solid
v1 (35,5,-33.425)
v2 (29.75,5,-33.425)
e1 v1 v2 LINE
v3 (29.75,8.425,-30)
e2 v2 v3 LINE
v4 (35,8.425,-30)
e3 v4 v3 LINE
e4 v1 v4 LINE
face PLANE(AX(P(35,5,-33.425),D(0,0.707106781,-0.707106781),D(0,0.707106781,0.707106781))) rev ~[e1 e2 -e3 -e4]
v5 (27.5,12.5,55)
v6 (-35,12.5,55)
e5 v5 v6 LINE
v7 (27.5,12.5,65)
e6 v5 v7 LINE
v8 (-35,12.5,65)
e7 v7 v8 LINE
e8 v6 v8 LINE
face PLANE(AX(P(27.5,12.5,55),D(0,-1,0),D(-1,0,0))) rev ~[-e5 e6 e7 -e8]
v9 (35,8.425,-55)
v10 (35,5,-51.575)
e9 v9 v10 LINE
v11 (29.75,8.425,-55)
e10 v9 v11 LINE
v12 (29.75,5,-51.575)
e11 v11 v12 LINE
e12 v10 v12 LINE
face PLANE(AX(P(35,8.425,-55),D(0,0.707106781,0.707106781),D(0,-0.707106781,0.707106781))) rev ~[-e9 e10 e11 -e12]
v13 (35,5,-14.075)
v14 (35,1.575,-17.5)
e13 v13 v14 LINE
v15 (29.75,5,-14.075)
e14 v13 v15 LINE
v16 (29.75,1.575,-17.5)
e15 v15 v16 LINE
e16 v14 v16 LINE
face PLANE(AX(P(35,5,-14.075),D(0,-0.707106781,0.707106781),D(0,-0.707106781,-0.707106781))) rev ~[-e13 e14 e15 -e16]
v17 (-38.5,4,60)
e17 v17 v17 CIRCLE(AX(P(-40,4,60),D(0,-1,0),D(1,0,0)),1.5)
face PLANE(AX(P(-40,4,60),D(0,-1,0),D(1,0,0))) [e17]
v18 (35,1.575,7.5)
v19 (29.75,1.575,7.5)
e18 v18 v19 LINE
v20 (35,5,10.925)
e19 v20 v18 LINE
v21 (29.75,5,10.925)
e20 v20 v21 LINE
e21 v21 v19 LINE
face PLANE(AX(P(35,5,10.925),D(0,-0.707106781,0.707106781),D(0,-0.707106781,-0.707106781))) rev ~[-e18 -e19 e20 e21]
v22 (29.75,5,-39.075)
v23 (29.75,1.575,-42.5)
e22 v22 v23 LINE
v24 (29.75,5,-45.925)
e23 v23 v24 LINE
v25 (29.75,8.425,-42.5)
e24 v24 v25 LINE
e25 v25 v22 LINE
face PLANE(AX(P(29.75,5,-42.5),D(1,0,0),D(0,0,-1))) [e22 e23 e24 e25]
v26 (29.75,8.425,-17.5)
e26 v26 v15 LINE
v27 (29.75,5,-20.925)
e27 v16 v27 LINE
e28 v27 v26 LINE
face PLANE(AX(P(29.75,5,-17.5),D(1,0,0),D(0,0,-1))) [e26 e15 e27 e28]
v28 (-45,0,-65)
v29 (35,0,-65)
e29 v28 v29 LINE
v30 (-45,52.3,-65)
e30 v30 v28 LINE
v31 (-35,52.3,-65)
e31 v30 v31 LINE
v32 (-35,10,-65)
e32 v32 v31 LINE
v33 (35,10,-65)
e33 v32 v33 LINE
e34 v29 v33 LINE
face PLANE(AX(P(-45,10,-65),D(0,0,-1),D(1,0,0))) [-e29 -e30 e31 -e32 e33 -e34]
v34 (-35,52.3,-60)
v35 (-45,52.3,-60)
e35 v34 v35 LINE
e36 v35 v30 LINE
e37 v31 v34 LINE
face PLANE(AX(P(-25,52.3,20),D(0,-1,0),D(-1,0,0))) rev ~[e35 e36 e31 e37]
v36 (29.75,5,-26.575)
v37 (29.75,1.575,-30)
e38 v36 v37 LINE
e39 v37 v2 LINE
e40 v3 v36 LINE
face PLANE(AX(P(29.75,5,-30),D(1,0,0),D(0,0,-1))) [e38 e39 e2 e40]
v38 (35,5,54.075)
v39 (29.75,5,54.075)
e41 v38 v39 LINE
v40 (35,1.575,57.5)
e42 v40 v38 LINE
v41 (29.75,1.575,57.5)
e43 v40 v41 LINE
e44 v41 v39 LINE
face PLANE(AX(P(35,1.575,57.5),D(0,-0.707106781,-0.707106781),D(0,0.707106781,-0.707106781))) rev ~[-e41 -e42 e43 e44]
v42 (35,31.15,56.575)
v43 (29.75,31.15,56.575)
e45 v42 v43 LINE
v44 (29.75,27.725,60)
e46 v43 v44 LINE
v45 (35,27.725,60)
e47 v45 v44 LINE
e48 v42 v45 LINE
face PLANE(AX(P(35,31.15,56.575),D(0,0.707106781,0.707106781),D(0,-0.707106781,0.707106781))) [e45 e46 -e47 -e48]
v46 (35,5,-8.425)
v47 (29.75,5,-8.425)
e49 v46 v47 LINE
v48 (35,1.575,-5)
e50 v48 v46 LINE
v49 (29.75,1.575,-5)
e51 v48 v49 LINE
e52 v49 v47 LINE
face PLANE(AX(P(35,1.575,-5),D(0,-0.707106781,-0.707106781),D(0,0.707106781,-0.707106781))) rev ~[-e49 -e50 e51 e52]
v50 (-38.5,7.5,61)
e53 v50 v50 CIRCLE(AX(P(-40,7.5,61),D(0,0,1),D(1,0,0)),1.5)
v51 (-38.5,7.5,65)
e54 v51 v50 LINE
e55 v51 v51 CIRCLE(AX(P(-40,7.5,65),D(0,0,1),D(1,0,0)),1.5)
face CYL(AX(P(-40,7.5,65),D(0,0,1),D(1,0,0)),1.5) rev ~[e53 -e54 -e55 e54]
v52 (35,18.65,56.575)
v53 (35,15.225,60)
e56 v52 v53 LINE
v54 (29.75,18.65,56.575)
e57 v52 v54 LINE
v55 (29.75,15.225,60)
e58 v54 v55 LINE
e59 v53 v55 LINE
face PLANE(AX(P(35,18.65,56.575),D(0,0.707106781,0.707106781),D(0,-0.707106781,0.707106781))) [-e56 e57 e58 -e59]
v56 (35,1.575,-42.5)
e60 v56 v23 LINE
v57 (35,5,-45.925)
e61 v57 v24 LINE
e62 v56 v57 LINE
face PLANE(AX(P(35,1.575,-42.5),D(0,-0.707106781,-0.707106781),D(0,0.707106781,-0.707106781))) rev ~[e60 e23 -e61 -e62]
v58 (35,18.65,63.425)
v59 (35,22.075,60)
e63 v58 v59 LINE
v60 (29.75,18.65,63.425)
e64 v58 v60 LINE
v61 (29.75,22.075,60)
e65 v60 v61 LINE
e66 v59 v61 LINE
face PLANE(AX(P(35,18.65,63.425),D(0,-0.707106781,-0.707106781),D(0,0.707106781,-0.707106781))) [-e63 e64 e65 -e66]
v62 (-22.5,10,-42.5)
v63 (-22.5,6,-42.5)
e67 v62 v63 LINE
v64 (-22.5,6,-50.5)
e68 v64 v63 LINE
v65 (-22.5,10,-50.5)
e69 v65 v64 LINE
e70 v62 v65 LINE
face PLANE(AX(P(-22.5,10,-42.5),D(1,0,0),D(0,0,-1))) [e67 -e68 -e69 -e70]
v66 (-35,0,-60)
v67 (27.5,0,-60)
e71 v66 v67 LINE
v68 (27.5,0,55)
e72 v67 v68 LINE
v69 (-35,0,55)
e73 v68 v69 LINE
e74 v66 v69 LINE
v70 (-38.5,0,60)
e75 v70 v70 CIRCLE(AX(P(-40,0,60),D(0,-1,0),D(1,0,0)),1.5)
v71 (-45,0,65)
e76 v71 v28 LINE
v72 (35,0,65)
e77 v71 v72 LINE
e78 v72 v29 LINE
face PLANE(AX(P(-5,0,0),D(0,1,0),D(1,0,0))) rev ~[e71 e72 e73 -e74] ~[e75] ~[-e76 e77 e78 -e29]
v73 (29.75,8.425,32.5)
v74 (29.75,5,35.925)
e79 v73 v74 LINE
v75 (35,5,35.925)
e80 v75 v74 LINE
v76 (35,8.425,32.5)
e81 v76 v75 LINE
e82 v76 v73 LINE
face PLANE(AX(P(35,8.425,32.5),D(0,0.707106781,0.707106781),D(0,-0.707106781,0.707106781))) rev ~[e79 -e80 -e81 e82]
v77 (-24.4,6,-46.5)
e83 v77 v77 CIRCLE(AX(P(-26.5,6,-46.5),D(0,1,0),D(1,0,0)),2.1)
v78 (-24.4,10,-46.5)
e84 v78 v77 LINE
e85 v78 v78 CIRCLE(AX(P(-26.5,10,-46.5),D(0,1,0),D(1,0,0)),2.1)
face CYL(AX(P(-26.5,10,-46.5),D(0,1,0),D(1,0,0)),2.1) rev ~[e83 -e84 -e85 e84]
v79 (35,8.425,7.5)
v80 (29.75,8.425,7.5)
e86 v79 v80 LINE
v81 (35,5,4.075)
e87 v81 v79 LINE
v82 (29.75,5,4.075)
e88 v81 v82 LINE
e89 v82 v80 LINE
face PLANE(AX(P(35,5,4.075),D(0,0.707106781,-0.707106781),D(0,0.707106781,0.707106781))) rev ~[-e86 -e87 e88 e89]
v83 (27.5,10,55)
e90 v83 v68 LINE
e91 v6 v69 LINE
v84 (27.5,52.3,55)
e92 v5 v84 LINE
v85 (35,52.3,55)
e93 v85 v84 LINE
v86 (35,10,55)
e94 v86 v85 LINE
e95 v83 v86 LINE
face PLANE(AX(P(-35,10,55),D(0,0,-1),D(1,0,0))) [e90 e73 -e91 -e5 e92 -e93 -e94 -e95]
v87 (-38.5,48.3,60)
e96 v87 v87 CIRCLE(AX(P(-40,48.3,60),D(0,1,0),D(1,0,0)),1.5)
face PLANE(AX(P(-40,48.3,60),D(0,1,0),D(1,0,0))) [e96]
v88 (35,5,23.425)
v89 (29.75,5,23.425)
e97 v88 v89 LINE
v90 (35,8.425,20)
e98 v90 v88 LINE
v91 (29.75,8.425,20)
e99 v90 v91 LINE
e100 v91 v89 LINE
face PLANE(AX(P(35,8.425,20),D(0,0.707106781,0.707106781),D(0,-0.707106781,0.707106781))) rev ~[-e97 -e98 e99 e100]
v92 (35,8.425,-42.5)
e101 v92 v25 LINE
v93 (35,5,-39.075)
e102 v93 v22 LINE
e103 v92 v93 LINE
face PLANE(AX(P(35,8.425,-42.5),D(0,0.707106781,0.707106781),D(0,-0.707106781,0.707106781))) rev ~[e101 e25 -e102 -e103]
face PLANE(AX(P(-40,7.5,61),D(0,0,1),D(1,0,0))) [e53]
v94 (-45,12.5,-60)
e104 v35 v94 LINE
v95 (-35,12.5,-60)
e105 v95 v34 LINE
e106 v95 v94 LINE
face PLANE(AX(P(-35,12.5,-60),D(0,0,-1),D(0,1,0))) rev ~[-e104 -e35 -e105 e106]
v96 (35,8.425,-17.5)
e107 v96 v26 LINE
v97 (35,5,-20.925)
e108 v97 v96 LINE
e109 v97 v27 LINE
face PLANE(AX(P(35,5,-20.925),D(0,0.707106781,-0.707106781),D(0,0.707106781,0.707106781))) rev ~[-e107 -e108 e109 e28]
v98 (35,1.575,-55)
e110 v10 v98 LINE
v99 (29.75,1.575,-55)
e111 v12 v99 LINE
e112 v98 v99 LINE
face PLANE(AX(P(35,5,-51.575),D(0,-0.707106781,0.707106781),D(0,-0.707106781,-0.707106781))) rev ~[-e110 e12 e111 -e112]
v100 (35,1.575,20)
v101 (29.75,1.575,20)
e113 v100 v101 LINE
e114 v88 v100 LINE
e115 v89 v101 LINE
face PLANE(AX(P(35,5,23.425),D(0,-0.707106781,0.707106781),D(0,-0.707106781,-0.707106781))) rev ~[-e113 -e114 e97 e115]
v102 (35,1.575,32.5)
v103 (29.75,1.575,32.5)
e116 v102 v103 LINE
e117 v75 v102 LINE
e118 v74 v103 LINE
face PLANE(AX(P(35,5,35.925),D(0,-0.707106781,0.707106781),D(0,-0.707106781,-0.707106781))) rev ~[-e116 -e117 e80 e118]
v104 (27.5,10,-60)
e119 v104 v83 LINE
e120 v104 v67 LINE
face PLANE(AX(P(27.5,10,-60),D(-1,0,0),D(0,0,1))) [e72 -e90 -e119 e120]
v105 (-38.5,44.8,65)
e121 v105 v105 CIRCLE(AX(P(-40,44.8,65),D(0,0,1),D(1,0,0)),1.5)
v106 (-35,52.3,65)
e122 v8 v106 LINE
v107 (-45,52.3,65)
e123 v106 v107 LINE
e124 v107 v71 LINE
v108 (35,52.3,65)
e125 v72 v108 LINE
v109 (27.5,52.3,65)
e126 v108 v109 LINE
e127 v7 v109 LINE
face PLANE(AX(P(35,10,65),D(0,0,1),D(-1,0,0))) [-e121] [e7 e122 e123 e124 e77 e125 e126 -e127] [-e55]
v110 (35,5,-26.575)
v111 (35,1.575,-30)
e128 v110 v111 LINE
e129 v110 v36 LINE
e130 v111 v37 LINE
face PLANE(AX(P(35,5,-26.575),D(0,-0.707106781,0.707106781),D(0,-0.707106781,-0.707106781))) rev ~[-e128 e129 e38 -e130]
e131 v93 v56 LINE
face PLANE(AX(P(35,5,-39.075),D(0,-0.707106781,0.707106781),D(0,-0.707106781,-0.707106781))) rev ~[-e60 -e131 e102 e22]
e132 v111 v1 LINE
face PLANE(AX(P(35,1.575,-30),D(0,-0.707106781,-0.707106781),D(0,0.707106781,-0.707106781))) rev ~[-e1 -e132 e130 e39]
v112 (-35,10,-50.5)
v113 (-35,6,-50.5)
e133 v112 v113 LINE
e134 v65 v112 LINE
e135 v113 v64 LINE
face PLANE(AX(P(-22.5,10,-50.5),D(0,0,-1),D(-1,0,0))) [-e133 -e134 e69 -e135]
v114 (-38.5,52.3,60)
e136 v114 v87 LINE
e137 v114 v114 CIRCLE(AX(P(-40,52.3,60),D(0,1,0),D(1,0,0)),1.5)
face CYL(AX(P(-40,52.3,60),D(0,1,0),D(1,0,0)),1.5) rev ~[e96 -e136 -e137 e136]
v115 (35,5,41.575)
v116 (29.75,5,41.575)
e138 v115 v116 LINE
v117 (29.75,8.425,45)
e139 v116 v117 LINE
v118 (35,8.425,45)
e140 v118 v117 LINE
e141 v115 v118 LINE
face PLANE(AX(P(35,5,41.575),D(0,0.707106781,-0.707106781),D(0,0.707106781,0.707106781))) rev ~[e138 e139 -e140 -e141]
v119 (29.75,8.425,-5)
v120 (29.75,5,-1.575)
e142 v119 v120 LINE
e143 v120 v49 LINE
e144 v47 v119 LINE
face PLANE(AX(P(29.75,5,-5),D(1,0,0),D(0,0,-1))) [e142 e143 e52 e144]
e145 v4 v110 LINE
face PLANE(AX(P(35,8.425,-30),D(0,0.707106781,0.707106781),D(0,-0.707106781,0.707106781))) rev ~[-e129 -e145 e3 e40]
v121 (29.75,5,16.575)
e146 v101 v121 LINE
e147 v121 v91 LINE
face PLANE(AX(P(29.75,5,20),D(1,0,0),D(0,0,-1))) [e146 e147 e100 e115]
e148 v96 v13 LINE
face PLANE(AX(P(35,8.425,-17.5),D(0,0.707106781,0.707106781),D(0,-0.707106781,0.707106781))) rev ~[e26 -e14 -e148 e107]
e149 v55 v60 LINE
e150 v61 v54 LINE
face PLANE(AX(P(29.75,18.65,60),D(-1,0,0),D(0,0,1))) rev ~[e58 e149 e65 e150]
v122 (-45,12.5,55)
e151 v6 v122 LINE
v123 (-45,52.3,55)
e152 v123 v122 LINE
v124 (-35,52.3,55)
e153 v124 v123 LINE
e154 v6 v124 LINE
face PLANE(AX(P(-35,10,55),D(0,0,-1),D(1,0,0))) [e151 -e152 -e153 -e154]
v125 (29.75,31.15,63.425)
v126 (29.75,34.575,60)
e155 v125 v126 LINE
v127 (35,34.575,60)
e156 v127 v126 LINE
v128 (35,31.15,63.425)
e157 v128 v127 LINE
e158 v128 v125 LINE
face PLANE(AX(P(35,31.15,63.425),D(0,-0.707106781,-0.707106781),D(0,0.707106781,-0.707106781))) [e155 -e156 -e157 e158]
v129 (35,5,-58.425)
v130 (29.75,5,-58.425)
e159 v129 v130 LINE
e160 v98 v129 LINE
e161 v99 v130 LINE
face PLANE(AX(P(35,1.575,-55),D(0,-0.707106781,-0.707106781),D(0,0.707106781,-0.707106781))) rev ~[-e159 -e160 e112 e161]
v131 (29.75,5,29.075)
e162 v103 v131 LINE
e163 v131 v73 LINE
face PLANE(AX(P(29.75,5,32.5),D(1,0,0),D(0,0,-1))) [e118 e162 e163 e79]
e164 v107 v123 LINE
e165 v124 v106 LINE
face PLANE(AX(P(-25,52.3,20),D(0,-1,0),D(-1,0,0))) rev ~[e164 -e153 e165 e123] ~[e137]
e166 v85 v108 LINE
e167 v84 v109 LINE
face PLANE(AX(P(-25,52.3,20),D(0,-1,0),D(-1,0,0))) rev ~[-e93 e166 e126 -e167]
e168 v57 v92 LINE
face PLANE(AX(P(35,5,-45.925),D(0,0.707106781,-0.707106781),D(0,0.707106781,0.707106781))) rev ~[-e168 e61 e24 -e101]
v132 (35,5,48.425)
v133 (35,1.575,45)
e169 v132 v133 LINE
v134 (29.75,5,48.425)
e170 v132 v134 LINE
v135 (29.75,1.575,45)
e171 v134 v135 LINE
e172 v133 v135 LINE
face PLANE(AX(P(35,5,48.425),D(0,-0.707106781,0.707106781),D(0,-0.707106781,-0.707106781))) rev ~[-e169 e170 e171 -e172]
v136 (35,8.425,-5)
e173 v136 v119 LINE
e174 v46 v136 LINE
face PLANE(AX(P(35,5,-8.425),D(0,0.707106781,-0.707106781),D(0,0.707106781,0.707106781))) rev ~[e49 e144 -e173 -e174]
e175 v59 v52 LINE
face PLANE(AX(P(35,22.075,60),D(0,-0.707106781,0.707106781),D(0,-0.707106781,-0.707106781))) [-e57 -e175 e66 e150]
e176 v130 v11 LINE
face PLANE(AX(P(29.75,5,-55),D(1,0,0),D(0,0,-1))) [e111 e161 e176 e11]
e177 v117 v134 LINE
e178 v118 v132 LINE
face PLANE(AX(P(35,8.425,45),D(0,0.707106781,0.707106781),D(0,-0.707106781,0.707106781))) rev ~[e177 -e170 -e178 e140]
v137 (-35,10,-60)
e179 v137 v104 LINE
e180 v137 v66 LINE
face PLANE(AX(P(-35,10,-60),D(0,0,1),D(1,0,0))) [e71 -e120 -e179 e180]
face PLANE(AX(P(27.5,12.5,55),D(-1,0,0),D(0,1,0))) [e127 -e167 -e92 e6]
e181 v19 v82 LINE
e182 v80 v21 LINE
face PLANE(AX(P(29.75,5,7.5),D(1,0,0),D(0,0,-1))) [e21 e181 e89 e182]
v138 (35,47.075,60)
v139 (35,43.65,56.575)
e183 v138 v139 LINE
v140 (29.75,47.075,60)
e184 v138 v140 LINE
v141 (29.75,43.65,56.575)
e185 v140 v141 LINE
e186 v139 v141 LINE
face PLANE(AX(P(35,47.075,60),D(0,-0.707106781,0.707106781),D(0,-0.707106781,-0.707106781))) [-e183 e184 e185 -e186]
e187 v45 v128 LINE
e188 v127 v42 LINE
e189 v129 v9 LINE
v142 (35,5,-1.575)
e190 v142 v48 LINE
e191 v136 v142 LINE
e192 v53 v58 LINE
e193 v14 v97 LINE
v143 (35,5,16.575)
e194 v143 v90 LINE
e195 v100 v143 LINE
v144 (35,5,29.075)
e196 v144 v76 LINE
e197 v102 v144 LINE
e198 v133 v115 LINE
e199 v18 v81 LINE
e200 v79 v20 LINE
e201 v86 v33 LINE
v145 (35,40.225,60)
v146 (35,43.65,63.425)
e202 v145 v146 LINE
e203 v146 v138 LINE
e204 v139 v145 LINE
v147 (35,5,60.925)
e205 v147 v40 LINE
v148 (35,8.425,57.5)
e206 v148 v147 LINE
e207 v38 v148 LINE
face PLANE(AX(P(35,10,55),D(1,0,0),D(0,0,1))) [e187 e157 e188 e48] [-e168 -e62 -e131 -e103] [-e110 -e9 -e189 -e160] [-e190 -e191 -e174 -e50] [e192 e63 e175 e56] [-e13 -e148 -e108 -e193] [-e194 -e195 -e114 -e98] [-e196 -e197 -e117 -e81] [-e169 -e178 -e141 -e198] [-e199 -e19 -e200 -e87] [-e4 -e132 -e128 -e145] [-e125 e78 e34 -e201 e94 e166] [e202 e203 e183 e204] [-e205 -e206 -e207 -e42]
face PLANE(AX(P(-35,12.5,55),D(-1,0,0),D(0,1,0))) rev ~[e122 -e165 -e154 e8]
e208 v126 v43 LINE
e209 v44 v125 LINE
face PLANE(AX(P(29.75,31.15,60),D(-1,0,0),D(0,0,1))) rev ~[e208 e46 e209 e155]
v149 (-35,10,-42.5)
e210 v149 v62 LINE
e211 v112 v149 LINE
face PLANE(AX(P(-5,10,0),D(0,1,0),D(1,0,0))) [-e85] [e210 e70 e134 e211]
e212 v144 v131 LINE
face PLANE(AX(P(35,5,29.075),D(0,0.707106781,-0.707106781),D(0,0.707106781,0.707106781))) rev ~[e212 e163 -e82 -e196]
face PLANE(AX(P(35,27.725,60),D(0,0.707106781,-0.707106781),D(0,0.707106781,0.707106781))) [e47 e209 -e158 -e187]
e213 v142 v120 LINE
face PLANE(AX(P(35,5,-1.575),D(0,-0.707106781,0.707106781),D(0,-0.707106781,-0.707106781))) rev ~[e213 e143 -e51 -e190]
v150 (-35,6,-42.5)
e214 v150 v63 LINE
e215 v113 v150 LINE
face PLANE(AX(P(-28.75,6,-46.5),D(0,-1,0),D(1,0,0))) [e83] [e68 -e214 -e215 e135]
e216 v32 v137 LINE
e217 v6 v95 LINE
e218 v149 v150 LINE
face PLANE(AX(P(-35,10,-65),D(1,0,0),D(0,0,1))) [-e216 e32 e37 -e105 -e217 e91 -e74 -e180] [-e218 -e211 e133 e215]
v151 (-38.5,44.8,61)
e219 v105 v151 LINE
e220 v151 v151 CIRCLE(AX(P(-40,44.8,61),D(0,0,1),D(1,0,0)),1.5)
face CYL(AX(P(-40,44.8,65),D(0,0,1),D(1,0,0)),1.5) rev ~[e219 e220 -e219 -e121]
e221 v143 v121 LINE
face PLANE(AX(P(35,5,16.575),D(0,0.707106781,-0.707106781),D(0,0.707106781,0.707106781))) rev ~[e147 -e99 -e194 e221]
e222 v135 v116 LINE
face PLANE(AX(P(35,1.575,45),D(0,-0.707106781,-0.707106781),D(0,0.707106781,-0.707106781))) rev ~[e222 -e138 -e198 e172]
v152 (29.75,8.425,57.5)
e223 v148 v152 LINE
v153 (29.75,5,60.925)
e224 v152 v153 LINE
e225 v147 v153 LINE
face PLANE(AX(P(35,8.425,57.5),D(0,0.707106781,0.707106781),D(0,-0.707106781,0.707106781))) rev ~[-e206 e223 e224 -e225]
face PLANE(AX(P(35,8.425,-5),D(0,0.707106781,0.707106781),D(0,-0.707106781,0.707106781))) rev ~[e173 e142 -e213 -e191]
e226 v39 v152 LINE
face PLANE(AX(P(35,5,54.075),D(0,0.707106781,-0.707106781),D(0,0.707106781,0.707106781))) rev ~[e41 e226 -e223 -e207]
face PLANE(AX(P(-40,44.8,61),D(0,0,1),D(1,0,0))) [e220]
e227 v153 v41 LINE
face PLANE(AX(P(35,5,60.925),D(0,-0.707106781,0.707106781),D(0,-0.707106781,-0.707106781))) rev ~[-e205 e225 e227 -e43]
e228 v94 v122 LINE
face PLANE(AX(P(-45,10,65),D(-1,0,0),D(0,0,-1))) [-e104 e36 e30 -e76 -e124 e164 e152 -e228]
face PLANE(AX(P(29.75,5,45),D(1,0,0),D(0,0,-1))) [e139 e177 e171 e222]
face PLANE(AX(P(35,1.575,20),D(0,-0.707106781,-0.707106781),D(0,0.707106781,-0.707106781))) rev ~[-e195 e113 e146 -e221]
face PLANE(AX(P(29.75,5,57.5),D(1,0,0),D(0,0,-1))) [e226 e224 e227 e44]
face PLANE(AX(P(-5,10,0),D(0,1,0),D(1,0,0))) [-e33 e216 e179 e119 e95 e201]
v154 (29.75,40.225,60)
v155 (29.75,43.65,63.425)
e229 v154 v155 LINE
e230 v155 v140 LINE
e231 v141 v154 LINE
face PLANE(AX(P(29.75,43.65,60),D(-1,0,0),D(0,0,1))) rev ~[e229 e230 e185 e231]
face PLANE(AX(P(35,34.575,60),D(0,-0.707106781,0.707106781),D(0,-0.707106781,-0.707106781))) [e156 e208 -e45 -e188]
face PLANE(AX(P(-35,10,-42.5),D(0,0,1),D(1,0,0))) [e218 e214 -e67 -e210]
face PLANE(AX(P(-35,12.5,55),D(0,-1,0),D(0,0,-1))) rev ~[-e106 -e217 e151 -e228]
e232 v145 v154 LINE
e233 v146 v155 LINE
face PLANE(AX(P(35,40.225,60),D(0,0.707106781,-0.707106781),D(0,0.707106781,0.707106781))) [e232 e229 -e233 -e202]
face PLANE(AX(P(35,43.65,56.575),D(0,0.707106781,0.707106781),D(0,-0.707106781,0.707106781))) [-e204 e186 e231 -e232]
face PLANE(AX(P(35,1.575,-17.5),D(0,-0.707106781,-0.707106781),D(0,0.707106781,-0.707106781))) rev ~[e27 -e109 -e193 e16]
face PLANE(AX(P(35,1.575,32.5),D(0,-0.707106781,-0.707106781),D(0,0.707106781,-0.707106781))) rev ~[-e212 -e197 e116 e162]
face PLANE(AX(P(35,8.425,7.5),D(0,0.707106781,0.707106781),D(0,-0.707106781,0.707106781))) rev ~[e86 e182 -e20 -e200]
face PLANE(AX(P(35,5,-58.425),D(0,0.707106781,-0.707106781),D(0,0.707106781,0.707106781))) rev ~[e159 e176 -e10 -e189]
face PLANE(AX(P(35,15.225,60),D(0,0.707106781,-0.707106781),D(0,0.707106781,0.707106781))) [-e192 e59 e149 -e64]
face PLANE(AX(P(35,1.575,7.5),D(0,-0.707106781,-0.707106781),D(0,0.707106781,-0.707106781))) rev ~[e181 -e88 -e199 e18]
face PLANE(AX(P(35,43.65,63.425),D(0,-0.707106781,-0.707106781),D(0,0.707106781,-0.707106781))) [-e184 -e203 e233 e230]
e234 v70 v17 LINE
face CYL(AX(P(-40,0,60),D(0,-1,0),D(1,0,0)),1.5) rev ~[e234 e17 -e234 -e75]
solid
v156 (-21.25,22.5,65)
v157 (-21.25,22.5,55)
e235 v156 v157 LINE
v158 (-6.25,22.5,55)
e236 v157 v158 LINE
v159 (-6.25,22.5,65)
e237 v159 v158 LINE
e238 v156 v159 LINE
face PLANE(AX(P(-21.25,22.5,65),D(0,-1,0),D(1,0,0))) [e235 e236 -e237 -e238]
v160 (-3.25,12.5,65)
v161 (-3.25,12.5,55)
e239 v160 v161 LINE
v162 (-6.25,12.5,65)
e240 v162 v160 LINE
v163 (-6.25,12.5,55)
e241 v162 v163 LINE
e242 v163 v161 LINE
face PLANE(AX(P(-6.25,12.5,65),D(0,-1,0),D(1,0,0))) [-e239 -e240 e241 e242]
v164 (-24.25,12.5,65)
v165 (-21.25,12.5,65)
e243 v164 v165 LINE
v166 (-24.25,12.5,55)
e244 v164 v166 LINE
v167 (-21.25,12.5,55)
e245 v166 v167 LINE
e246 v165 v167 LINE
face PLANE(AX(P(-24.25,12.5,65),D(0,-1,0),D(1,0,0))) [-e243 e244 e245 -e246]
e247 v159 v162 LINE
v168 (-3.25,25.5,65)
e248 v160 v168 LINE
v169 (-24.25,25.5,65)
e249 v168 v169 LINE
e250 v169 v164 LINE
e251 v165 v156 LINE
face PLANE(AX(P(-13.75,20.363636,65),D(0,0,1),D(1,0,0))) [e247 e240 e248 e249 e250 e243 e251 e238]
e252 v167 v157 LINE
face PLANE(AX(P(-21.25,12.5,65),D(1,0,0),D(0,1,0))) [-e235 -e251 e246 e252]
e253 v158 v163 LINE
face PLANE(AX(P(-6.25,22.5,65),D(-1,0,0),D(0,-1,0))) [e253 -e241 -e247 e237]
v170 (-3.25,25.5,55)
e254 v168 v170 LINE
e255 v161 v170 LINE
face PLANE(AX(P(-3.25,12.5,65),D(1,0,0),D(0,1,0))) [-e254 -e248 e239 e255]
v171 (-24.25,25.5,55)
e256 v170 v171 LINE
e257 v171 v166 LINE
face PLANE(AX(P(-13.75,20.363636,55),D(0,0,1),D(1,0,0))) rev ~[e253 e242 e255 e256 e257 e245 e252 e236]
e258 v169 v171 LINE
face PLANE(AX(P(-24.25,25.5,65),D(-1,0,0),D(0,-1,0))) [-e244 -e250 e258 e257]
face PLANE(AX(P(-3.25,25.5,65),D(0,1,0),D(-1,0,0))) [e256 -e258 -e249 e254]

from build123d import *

# Parameters (mm, degrees)
SKETCH1_W           = 80
SKETCH1_H           = 130
BOSS_EXTRUDE1_DEPTH = 10
BOSS_EXTRUDE2_DEPTH = 42.3
CUT_EXTRUDE1_DEPTH  = 5.25
SKETCH4_R           = 2.1
CUT_EXTRUDE2_DEPTH  = 11
CUT_EXTRUDE3_DEPTH  = 11
SKETCH7_W           = 115
SKETCH7_H           = 39.8
CUT_EXTRUDE4_DEPTH  = 11
SKETCH8_W           = 62.5
SKETCH8_H           = 39.8
CUT_EXTRUDE5_DEPTH  = 10
SKETCH9_R           = 1.5
CUT_EXTRUDE6_DEPTH  = 4
SKETCH10_R          = 1.5
CUT_EXTRUDE7_DEPTH  = 4
SKETCH11_W          = 12.5
SKETCH11_H          = 8
CUT_EXTRUDE8_DEPTH  = 6
BOSS_EXTRUDE3_DEPTH = 10
SKETCH14_R          = 1.5
CUT_EXTRUDE9_DEPTH  = 4


with BuildPart() as part:
    # Sketch1 → Boss-Extrude1 (new body)
    with BuildSketch(Plane(origin=(0, 0, 0), x_dir=(1, 0, 0), z_dir=(0, 1, 0))):
        with Locations((-5, 0)):
            Rectangle(SKETCH1_W, SKETCH1_H)
    extrude(amount=BOSS_EXTRUDE1_DEPTH)

    # Sketch2 → Boss-Extrude2 (add)
    with BuildSketch(Plane(origin=(0, 10, 0), x_dir=(1, 0, 0), z_dir=(0, 1, 0))):
        Polygon((35, -65), (-45, -65), (-45, 65), (-35, 65), (-35, -55), (35, -55), align=None)
    extrude(amount=BOSS_EXTRUDE2_DEPTH)

    # Sketch3 → Cut-Extrude1 (cut)
    with BuildSketch(Plane(origin=(35, 0, 0), x_dir=(0, 0, -1), z_dir=(1, 0, 0))):
        Polygon((20.925, 5), (17.5, 8.425), (14.075, 5), (17.5, 1.575), align=None)
        Polygon((33.425, 5), (30, 8.425), (26.575, 5), (30, 1.575), align=None)
        Polygon((5, 8.425), (1.575, 5), (5, 1.575), (8.425, 5), align=None)
        Polygon((-4.075, 5), (-7.5, 8.425), (-10.925, 5), (-7.5, 1.575), align=None)
        Polygon((-16.575, 5), (-20, 8.425), (-23.425, 5), (-20, 1.575), align=None)
        Polygon((-29.075, 5), (-32.5, 8.425), (-35.925, 5), (-32.5, 1.575), align=None)
        Polygon((-41.575, 5), (-45, 8.425), (-48.425, 5), (-45, 1.575), align=None)
        Polygon((-54.075, 5), (-57.5, 8.425), (-60.925, 5), (-57.5, 1.575), align=None)
        Polygon((-63.425, 31.15), (-60, 34.575), (-56.575, 31.15), (-60, 27.725), align=None)
        Polygon((-60, 40.225), (-63.425, 43.65), (-60, 47.075), (-56.575, 43.65), align=None)
        Polygon((-60, 15.225), (-63.425, 18.65), (-60, 22.075), (-56.575, 18.65), align=None)
        Polygon((45.925, 5), (42.5, 8.425), (39.075, 5), (42.5, 1.575), align=None)
        Polygon((58.425, 5), (55, 8.425), (51.575, 5), (55, 1.575), align=None)
    extrude(amount=-CUT_EXTRUDE1_DEPTH, mode=Mode.SUBTRACT)

    # Sketch4 → Cut-Extrude2 (cut, through all)
    with BuildSketch(Plane(origin=(0, 10, 0), x_dir=(1, 0, 0), z_dir=(0, 1, 0))):
        with Locations((-26.5, 46.5)):
            Circle(SKETCH4_R)
    extrude(amount=-CUT_EXTRUDE2_DEPTH, mode=Mode.SUBTRACT)

    # Sketch5 → Cut-Extrude3 (cut, through all)
    with BuildSketch(Plane(origin=(0, 10, 0), x_dir=(1, 0, 0), z_dir=(0, 1, 0))):
        Polygon((-35, -55), (-35, 42.5), (-22.5, 42.5), (-22.5, 50.5), (-35, 50.5), (-35, 60), (27.5, 60), (27.5, -55), align=None)
    extrude(amount=-CUT_EXTRUDE3_DEPTH, mode=Mode.SUBTRACT)

    # Sketch7 → Cut-Extrude4 (cut, through all)
    with BuildSketch(Plane(origin=(-35, 0, 0), x_dir=(0, 0, -1), z_dir=(1, 0, 0))):
        with Locations((2.5, 32.4)):
            Rectangle(SKETCH7_W, SKETCH7_H)
    extrude(amount=-CUT_EXTRUDE4_DEPTH, mode=Mode.SUBTRACT)

    # Sketch8 → Cut-Extrude5 (cut)
    with BuildSketch(Plane(origin=(0, 0, 55), x_dir=(-1, 0, 0), z_dir=(0, 0, -1))):
        with Locations((3.75, 32.4)):
            Rectangle(SKETCH8_W, SKETCH8_H)
    extrude(amount=-CUT_EXTRUDE5_DEPTH, mode=Mode.SUBTRACT)

    # Sketch9 → Cut-Extrude6 (cut)
    with BuildSketch(Plane(origin=(0, 52.3, 0), x_dir=(1, 0, 0), z_dir=(0, 1, 0))):
        with Locations((-40, -60)):
            Circle(SKETCH9_R)
    extrude(amount=-CUT_EXTRUDE6_DEPTH, mode=Mode.SUBTRACT)

    # Sketch10 → Cut-Extrude7 (cut)
    with BuildSketch(Plane.XZ):
        with Locations((-40, 60)):
            Circle(SKETCH10_R)
    extrude(amount=-CUT_EXTRUDE7_DEPTH, mode=Mode.SUBTRACT)

    # Sketch11 → Cut-Extrude8 (cut)
    with BuildSketch(Plane.XZ):
        with Locations((-28.75, -46.5)):
            Rectangle(SKETCH11_W, SKETCH11_H)
    extrude(amount=-CUT_EXTRUDE8_DEPTH, mode=Mode.SUBTRACT)

    # Sketch14 → Cut-Extrude9 (cut)
    with BuildSketch(Plane.XY.offset(65)):
        with Locations((-40, 44.8)):
            Circle(SKETCH14_R)
        with Locations((-40, 7.5)):
            Circle(SKETCH14_R)
    extrude(amount=-CUT_EXTRUDE9_DEPTH, mode=Mode.SUBTRACT)


with BuildPart() as body_2:
    # Sketch13 → Boss-Extrude3 (new body)
    with BuildSketch(Plane.XY.offset(65)):
        Polygon((-24.25, 12.5), (-21.25, 12.5), (-21.25, 22.5), (-6.25, 22.5), (-6.25, 12.5), (-3.25, 12.5), (-3.25, 25.5), (-24.25, 25.5), align=None)
    extrude(amount=-BOSS_EXTRUDE3_DEPTH)


solid = Compound([part.part, body_2.part])
